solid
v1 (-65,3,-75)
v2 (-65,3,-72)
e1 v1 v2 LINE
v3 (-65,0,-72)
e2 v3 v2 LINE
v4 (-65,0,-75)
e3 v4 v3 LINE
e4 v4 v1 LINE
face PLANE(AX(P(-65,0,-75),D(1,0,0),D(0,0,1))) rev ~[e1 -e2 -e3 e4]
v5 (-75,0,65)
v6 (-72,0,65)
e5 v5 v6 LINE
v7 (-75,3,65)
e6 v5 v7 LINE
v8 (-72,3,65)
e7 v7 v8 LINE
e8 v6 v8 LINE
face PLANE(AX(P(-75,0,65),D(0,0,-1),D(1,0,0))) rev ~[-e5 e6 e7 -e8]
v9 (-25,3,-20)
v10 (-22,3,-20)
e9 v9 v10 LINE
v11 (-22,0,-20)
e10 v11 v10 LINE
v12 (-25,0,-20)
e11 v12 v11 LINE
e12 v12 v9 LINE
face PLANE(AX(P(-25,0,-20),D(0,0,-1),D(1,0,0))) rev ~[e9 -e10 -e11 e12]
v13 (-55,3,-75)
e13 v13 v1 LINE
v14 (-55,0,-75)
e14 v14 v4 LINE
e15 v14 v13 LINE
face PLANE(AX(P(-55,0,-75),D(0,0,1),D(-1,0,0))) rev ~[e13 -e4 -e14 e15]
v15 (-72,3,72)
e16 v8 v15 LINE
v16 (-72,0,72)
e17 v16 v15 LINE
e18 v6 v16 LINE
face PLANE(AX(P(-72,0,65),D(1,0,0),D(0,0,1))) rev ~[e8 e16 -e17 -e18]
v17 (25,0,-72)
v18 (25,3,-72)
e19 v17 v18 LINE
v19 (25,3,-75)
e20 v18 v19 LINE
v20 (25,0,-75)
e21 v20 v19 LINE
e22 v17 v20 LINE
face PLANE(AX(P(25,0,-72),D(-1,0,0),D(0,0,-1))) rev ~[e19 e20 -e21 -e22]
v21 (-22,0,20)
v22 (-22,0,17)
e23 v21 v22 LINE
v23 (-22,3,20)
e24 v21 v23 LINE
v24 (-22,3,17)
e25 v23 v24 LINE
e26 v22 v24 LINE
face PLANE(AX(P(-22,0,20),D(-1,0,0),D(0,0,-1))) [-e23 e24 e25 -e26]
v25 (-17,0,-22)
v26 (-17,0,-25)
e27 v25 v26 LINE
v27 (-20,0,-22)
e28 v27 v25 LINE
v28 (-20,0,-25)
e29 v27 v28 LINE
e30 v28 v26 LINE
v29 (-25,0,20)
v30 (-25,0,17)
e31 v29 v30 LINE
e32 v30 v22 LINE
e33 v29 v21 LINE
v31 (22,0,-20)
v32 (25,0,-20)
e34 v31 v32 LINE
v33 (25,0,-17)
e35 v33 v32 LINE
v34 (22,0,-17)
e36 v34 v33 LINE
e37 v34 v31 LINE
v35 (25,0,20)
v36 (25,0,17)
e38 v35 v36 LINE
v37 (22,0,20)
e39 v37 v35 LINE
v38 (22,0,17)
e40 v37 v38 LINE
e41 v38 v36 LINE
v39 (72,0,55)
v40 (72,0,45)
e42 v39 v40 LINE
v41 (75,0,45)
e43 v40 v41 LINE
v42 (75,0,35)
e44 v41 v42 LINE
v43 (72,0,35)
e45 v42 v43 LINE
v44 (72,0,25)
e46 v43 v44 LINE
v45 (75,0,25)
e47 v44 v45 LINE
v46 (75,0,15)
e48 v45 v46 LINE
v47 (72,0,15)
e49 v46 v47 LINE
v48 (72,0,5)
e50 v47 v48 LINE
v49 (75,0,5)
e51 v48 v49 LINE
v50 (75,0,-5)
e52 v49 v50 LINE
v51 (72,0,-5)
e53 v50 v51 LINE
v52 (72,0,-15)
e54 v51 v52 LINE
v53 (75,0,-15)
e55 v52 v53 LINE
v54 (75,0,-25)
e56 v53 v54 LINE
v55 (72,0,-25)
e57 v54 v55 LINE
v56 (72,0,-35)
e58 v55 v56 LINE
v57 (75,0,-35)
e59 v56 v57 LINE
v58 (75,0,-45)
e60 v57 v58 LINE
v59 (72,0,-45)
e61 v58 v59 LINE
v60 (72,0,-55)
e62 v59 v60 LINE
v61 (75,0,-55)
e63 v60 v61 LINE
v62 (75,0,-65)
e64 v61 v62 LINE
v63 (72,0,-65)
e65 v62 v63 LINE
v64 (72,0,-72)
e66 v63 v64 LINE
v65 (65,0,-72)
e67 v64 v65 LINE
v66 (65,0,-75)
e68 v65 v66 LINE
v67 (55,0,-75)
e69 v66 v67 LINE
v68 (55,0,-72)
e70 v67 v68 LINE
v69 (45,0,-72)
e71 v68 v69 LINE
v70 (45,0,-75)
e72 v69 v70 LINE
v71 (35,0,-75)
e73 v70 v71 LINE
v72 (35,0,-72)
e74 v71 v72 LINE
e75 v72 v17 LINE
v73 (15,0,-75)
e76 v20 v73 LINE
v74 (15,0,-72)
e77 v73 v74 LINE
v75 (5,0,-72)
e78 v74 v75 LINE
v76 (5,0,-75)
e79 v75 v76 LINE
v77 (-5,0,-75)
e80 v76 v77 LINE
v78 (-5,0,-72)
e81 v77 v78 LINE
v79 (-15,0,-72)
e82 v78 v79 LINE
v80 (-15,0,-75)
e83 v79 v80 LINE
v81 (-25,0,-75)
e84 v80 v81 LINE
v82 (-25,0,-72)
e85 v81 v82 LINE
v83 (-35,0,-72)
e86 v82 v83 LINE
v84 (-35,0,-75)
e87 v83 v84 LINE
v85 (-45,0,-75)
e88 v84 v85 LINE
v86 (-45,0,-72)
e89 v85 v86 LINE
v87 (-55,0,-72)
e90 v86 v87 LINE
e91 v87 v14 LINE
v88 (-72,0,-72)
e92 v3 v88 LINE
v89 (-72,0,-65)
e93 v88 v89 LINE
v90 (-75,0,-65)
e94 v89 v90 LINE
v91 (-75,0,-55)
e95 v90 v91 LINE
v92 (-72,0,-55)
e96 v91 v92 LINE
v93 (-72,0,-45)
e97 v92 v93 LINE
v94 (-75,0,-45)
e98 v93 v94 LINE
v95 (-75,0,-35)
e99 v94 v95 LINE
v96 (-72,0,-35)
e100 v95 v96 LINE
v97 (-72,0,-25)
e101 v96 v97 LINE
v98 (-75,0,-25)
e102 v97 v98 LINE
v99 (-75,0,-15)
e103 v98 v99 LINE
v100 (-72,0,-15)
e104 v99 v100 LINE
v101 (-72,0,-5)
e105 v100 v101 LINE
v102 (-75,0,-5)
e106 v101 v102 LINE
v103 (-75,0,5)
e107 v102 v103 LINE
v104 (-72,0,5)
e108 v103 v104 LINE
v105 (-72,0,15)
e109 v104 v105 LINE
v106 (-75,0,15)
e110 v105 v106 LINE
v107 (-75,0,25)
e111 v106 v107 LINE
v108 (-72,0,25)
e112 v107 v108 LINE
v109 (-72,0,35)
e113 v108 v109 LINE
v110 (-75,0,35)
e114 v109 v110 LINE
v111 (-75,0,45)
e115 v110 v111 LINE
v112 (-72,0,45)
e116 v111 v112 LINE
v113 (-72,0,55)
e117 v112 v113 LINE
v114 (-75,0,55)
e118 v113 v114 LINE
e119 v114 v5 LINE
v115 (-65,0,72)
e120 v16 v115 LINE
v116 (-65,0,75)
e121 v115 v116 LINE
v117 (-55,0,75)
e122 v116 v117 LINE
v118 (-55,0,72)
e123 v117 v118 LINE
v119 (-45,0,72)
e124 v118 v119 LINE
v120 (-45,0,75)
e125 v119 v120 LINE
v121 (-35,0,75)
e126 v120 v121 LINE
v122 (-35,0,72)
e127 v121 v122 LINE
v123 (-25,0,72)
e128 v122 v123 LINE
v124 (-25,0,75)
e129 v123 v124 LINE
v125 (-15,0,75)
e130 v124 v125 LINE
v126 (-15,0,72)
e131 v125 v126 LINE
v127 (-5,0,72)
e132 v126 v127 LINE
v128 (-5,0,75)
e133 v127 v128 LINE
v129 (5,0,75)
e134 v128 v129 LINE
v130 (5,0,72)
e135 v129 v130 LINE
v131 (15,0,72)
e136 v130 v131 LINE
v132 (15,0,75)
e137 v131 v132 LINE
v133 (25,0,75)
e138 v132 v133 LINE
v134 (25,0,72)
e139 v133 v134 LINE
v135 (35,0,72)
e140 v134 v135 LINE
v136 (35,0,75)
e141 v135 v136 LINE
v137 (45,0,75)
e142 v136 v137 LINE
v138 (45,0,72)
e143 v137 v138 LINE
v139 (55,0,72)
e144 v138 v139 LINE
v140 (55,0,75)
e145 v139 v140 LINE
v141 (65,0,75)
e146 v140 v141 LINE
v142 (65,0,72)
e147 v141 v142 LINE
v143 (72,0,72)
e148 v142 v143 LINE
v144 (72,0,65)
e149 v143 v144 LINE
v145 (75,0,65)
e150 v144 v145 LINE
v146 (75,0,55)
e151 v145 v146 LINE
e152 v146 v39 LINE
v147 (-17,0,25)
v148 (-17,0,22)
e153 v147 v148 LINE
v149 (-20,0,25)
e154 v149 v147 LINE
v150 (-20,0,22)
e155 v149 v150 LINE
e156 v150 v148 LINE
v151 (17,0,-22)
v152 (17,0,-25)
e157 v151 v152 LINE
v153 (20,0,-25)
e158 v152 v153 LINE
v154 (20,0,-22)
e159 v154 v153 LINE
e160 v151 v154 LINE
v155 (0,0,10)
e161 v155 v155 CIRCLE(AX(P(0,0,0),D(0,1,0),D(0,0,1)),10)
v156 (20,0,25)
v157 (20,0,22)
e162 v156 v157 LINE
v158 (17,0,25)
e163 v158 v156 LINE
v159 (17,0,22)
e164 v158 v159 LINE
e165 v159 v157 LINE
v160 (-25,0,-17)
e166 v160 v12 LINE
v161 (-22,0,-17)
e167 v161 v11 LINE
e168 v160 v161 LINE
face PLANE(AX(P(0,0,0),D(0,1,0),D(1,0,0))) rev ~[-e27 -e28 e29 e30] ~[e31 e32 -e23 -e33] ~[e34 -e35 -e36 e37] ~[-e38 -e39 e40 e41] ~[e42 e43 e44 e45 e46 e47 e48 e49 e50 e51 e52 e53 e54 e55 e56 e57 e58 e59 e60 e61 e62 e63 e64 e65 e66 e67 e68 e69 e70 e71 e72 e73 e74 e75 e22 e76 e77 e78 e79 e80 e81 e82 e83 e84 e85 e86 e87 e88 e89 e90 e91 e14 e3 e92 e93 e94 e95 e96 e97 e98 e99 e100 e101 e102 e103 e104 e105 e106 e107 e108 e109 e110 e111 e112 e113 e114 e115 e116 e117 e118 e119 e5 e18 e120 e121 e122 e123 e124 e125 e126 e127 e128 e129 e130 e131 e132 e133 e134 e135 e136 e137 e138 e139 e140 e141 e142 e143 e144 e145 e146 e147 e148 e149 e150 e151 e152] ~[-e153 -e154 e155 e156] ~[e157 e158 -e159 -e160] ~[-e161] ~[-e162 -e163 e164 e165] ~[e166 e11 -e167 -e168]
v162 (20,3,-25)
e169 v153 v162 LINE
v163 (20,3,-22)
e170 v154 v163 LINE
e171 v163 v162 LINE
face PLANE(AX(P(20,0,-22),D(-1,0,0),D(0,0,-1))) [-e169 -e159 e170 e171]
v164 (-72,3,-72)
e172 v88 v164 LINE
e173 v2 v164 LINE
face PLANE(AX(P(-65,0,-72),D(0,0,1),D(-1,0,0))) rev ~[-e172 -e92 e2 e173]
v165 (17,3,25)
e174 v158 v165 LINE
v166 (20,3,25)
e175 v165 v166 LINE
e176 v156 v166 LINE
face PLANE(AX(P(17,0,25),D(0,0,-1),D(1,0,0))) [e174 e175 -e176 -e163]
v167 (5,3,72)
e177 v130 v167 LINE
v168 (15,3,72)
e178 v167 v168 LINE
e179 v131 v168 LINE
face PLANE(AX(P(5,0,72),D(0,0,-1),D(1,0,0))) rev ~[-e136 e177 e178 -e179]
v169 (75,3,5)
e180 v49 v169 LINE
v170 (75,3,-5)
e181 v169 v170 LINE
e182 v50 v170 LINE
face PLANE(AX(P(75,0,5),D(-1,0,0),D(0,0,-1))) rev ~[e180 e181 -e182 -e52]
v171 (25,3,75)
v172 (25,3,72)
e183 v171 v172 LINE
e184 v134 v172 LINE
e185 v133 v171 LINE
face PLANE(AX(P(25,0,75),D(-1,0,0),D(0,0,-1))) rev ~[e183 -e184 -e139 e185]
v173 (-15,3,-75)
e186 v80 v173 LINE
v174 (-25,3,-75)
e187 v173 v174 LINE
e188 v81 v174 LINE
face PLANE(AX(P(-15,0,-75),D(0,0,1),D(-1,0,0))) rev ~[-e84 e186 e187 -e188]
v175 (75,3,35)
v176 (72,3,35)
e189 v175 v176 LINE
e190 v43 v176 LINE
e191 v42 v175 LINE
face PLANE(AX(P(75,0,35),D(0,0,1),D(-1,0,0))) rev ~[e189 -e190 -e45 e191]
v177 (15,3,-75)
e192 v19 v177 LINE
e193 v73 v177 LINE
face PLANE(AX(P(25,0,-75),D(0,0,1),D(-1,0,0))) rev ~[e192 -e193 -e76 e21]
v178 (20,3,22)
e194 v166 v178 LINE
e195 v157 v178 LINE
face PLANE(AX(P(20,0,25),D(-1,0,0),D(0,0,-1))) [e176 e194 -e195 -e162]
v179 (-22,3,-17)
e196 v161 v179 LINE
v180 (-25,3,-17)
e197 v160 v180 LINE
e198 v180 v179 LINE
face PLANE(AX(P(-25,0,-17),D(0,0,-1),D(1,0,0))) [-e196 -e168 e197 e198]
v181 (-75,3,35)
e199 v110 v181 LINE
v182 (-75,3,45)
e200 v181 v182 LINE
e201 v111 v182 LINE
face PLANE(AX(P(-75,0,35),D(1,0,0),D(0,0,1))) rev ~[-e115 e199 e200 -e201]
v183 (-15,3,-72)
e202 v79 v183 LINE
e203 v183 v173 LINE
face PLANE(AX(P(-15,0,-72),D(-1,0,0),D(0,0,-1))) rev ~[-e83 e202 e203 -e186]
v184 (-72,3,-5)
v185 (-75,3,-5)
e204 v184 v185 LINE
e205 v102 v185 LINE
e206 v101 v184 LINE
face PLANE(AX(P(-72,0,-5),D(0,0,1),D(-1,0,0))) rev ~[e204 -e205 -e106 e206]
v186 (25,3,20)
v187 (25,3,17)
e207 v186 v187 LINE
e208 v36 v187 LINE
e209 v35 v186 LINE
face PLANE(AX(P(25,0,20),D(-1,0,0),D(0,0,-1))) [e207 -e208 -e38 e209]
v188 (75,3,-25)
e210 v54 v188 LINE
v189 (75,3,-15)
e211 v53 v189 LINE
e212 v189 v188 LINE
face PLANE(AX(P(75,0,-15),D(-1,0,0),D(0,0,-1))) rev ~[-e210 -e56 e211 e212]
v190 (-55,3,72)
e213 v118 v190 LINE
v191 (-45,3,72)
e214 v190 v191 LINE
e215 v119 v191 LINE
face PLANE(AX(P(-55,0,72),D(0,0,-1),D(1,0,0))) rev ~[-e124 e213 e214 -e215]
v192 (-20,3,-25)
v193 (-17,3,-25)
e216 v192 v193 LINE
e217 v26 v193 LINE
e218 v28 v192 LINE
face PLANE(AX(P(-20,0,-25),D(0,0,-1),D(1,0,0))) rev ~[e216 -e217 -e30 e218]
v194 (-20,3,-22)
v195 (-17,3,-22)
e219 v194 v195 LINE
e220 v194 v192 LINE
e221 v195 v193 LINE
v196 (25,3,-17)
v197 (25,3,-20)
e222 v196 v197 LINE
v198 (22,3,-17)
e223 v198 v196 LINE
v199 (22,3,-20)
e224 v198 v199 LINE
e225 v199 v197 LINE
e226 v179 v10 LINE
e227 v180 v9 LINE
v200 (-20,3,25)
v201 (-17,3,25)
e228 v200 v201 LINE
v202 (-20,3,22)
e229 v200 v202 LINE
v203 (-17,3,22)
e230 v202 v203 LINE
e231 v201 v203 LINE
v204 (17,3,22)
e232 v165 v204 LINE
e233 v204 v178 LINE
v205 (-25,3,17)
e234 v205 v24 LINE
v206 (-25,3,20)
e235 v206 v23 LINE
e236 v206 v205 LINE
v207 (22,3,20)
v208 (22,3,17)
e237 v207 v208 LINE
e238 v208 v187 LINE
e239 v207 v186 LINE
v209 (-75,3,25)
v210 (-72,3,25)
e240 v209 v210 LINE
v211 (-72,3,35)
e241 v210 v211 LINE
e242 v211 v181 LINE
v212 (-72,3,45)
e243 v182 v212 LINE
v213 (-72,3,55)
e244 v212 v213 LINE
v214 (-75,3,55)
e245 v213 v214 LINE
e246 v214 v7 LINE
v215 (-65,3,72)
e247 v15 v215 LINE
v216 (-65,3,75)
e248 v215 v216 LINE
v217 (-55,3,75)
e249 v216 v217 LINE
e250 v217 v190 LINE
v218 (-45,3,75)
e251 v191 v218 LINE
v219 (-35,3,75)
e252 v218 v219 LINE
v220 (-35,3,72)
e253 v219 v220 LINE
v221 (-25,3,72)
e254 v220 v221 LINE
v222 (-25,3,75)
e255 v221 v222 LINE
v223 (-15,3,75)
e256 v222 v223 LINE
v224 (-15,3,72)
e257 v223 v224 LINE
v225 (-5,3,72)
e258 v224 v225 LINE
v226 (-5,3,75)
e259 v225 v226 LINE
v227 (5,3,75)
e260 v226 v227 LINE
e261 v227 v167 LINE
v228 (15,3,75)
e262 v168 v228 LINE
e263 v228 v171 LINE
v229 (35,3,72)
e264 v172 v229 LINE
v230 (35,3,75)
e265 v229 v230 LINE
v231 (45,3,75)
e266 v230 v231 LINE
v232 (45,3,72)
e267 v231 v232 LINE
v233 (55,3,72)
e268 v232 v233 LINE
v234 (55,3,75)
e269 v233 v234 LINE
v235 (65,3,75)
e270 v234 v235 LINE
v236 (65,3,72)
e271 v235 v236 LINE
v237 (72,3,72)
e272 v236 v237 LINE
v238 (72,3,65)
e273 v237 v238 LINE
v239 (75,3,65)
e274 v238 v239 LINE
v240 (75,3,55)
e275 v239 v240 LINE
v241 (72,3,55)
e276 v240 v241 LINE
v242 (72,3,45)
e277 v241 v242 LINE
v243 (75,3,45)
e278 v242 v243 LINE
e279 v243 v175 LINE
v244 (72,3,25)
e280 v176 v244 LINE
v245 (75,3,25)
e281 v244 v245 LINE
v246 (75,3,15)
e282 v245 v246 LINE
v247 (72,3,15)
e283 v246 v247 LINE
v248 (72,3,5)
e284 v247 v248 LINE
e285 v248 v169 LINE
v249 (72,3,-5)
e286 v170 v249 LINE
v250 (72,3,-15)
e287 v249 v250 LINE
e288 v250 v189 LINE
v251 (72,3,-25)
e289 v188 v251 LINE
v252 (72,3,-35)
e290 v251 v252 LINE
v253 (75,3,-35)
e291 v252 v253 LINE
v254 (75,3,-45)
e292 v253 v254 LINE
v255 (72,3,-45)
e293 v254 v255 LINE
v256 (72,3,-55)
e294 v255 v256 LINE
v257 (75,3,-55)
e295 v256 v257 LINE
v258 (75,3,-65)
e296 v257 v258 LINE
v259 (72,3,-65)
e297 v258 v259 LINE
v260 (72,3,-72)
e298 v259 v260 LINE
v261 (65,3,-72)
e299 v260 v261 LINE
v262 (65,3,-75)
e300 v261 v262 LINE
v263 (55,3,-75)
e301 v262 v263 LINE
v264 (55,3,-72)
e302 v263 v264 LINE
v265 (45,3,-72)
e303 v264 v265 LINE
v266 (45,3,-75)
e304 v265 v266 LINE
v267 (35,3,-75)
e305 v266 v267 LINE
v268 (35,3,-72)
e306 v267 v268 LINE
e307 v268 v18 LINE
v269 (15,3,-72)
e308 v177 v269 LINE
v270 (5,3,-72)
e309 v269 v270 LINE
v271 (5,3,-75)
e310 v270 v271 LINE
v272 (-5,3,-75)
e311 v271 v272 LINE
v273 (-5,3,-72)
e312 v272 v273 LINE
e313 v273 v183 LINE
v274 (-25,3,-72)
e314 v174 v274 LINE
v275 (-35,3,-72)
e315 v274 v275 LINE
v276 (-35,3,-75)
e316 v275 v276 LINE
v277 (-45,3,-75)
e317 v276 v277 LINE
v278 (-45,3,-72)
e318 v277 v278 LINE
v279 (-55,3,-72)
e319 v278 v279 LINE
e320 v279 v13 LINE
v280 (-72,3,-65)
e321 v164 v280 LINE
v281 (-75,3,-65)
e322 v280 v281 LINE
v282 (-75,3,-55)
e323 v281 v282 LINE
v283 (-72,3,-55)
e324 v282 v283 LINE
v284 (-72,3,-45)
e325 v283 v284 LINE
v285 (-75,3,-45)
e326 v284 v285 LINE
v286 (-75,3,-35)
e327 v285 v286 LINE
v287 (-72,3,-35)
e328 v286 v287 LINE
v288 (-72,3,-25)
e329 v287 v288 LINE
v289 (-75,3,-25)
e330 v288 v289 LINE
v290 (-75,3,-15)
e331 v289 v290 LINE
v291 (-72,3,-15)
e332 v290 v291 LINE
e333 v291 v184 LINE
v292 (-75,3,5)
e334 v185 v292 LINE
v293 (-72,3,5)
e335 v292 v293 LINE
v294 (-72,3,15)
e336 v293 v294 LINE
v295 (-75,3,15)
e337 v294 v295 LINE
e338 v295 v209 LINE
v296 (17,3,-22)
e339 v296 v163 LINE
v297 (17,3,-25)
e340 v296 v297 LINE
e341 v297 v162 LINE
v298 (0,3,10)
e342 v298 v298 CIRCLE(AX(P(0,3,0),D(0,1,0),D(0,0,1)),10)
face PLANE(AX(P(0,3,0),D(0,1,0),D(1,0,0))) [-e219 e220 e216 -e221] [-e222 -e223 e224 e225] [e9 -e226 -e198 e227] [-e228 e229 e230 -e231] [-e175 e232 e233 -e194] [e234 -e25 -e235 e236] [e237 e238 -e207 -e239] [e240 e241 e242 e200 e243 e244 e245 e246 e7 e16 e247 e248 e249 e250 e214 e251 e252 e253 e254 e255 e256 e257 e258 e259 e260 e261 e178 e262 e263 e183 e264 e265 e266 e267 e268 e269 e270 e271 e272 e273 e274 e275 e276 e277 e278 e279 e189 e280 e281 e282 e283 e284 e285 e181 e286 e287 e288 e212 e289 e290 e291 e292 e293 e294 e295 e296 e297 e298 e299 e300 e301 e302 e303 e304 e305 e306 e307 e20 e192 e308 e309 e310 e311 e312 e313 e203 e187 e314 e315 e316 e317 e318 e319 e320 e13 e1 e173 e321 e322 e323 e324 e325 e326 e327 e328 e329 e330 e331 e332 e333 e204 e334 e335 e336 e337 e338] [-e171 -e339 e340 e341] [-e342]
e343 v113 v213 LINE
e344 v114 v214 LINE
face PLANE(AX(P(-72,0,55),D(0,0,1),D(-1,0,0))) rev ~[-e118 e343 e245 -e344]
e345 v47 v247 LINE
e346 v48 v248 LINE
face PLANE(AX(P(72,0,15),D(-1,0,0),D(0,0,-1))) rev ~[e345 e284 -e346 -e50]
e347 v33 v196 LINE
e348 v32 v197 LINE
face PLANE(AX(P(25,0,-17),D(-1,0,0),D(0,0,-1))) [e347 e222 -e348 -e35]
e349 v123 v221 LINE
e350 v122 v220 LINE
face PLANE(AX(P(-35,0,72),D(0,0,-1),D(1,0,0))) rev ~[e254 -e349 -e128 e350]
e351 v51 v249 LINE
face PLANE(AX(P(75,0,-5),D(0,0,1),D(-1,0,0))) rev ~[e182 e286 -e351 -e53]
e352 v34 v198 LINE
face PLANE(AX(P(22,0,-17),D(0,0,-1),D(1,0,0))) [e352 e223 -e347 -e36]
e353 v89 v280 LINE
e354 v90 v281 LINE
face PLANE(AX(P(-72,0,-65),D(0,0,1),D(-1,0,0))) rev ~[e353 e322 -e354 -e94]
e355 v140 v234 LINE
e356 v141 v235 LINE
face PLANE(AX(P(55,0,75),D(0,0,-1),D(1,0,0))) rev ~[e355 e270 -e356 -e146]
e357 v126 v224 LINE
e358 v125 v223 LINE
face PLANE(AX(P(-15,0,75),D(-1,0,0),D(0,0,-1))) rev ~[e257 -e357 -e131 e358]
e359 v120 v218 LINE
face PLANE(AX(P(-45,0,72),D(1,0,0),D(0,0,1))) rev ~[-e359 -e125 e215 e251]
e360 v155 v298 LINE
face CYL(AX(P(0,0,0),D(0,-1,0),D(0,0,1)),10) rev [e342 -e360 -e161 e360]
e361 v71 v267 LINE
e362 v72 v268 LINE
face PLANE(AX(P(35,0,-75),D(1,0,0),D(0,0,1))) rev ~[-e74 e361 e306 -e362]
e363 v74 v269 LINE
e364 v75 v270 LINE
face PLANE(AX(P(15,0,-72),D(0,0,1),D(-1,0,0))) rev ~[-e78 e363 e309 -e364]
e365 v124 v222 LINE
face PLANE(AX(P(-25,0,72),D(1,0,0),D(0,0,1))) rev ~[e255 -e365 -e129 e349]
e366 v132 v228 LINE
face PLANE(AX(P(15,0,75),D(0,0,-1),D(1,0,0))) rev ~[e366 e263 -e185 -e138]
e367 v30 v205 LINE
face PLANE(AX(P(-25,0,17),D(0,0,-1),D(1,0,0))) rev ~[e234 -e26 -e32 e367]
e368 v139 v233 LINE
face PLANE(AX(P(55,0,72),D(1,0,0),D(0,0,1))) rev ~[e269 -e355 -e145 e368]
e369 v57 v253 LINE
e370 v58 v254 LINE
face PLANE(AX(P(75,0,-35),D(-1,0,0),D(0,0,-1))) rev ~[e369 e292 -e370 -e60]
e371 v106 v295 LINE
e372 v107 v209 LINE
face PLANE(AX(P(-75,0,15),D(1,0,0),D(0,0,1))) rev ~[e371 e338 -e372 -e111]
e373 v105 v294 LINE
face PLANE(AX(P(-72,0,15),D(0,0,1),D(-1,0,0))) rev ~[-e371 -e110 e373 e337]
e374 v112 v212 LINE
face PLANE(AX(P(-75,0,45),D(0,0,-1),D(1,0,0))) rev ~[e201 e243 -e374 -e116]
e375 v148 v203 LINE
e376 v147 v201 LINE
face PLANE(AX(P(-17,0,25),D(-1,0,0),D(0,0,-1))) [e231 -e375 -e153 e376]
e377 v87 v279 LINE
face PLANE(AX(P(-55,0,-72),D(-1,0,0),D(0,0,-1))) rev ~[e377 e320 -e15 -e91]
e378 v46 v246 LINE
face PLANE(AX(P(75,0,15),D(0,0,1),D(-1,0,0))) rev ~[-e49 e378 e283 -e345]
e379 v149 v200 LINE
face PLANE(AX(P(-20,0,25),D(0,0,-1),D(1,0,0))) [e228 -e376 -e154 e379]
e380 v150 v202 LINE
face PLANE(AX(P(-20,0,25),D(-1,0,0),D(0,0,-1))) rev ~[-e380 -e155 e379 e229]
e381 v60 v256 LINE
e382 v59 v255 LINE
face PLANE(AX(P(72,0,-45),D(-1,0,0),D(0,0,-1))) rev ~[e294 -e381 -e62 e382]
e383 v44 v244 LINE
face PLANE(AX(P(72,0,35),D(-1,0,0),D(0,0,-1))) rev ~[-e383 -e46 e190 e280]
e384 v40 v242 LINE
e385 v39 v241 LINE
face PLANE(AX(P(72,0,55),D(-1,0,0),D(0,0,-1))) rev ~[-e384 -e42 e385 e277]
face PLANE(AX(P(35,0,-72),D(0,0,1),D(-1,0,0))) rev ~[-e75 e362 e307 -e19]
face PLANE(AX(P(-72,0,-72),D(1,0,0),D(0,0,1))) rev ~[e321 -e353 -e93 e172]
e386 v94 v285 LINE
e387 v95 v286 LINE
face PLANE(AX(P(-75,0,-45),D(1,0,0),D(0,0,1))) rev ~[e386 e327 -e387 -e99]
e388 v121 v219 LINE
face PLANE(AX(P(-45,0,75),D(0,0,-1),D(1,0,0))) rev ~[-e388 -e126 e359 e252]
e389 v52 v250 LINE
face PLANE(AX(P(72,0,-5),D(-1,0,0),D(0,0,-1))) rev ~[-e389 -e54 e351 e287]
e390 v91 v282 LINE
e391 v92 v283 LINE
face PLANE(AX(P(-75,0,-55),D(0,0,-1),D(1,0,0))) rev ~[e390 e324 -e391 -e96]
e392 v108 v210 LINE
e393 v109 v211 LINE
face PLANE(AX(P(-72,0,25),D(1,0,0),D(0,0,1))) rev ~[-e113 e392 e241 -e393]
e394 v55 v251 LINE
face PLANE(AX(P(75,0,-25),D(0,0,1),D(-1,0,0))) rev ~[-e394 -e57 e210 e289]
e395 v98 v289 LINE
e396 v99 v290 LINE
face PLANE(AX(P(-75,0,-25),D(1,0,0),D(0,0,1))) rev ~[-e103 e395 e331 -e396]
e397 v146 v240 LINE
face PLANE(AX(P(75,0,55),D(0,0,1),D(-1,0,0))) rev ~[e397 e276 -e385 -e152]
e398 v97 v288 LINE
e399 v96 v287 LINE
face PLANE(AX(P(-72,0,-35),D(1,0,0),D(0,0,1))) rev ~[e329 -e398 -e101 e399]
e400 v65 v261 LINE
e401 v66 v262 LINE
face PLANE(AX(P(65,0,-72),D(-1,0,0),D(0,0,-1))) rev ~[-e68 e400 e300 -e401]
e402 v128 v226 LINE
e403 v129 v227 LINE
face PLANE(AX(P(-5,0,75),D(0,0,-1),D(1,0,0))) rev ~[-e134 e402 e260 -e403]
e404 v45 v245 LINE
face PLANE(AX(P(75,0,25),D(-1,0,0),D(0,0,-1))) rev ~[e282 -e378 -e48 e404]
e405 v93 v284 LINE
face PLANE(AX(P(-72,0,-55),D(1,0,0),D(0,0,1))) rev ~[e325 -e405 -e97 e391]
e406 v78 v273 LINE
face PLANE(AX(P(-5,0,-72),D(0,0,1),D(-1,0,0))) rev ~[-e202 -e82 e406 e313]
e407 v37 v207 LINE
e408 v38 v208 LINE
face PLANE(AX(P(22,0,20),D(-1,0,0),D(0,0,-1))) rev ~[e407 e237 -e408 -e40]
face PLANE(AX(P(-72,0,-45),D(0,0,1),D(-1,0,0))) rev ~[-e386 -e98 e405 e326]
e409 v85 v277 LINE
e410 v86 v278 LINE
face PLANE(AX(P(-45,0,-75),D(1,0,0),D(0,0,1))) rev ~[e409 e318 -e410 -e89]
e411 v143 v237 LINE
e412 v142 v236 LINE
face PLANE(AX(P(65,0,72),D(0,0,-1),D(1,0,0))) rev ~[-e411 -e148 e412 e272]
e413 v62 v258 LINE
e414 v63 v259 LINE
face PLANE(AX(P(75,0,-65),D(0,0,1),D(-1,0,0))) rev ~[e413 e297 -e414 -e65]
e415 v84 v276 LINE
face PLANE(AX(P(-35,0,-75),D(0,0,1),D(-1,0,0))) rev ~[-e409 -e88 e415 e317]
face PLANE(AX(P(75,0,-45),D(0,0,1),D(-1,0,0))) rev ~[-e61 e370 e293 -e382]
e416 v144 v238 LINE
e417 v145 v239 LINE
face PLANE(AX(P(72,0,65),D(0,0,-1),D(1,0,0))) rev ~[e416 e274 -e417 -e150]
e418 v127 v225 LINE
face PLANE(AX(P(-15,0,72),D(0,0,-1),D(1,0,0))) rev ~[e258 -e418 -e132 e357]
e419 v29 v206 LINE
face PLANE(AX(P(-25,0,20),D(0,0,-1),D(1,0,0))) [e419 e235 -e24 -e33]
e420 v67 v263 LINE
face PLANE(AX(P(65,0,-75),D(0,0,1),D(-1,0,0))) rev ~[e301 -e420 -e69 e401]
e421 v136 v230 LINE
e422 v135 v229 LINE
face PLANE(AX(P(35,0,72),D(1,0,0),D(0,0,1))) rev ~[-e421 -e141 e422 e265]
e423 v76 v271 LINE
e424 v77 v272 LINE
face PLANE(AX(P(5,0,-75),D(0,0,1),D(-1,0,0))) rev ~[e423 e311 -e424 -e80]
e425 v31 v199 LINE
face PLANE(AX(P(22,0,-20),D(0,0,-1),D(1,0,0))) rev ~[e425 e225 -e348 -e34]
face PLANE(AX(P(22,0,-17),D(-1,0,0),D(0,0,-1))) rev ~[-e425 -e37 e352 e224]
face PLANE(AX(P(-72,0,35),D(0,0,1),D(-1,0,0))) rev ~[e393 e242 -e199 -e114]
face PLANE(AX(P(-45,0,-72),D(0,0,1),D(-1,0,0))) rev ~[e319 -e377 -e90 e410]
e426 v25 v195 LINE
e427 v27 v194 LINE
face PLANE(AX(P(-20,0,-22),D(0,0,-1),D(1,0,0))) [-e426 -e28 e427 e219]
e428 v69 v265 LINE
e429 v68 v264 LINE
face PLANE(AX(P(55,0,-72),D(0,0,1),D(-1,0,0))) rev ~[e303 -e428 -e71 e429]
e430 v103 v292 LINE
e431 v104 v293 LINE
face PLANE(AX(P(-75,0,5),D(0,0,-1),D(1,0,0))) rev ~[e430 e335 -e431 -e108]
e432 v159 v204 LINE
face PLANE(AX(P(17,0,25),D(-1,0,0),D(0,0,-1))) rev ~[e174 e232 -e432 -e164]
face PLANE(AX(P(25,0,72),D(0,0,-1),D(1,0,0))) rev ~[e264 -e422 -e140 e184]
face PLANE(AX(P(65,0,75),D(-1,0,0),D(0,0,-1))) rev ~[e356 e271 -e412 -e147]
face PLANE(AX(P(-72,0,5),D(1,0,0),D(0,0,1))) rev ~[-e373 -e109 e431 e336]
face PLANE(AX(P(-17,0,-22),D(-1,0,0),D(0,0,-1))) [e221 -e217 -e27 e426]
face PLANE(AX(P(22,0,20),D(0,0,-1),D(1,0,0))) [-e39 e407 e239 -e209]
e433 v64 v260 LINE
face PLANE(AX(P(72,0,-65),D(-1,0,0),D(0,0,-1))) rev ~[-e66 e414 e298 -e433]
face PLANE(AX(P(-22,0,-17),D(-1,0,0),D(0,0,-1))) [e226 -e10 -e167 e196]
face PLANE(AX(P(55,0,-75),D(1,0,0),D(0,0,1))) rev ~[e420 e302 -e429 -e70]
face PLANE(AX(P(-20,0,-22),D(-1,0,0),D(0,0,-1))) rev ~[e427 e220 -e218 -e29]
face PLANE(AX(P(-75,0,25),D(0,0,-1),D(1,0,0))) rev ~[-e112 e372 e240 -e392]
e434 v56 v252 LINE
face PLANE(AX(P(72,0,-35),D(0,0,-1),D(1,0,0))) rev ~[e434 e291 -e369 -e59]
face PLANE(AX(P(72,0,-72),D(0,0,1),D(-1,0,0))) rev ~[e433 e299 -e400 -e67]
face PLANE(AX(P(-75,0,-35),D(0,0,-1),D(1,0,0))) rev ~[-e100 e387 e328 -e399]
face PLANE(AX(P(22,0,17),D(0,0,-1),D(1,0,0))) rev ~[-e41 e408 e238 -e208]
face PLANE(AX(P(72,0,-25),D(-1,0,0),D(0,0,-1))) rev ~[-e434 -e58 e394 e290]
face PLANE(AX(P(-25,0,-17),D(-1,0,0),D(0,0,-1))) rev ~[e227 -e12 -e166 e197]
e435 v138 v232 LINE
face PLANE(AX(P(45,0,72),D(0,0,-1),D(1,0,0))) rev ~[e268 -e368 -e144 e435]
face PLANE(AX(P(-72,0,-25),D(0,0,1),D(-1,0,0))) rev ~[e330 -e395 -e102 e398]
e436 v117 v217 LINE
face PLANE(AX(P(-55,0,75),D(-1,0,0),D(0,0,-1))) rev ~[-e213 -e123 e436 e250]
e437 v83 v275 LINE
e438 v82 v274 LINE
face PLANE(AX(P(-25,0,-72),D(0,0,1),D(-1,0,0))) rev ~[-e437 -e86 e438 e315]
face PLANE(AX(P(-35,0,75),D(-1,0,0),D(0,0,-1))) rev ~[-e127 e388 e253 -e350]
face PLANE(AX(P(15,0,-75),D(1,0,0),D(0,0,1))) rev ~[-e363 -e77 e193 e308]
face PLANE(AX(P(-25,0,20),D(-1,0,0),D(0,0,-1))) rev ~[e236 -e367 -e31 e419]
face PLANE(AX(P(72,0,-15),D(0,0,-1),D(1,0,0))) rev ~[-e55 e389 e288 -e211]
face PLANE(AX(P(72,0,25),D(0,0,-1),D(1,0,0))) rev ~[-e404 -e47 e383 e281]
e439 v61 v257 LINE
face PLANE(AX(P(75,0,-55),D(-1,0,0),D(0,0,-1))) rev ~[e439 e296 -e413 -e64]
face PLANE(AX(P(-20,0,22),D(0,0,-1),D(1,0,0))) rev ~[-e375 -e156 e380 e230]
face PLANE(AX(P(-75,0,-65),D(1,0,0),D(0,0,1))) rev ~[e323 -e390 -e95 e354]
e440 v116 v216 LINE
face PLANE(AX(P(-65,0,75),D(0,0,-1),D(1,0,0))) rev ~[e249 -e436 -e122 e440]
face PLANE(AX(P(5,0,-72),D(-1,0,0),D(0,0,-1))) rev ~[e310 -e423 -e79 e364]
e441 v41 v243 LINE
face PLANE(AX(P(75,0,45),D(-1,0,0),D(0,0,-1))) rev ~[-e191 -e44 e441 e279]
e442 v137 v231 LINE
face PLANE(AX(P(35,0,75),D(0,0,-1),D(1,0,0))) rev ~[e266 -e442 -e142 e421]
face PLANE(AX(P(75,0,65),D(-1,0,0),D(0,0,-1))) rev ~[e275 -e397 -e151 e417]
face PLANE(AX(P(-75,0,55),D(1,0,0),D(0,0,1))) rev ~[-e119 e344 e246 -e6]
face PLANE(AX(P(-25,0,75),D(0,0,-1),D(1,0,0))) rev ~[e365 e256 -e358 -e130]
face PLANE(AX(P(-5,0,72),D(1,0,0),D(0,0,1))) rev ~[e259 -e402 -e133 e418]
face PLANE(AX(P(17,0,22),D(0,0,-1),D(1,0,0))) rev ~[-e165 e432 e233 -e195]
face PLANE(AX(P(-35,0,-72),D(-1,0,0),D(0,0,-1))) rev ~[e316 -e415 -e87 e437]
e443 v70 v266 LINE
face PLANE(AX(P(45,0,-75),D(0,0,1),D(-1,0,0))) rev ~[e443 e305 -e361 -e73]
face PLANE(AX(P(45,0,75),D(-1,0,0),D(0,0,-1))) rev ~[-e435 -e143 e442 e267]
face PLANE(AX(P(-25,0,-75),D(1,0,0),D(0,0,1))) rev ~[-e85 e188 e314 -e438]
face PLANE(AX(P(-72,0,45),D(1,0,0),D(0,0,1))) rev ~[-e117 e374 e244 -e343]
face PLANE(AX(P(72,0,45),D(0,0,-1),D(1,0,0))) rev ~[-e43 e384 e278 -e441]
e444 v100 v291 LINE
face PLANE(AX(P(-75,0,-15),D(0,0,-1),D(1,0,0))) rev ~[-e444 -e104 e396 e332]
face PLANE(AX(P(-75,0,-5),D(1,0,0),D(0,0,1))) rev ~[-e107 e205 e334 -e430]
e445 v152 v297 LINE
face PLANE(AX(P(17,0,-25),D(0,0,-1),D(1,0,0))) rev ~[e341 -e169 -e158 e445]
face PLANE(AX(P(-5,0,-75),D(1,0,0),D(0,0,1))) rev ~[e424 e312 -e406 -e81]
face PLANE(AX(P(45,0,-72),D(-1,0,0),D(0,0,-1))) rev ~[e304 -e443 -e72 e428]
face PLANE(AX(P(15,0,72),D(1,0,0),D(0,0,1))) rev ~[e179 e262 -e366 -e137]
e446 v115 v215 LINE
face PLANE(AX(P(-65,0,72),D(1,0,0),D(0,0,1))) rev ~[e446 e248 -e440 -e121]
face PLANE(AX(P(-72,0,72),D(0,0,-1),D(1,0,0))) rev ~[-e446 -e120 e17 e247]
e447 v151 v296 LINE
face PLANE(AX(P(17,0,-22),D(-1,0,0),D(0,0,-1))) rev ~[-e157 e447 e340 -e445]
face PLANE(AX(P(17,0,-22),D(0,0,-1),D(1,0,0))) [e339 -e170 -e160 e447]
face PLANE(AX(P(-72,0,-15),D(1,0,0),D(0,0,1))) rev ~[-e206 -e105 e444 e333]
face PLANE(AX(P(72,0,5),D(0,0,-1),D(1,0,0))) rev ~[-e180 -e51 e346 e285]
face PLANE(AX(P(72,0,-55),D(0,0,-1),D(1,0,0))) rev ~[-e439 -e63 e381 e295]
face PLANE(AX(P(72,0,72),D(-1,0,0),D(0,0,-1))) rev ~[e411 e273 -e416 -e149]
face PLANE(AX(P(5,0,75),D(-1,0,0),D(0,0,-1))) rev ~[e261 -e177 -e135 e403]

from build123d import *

# Parameters (mm, degrees)
CROQUIS1_R              = 10
CROQUIS1_W              = 3
CROQUIS1_H              = 3
SALIENTE_EXTRUIR2_DEPTH = 3


with BuildPart() as part:
    # Croquis1 → Saliente-Extruir2 (new body)
    with BuildSketch(Plane(origin=(0, 0, 0), x_dir=(1, 0, 0), z_dir=(0, 1, 0))):
        Polygon((-72, -72), (-65, -72), (-65, -75), (-55, -75), (-55, -72), (-45, -72), (-45, -75), (-35, -75), (-35, -72), (-25, -72), (-25, -75), (-15, -75), (-15, -72), (-5, -72), (-5, -75), (5, -75), (5, -72), (15, -72), (15, -75), (25, -75), (25, -72), (35, -72), (35, -75), (45, -75), (45, -72), (55, -72), (55, -75), (65, -75), (65, -72), (72, -72), (72, -65), (75, -65), (75, -55), (72, -55), (72, -45), (75, -45), (75, -35), (72, -35), (72, -25), (75, -25), (75, -15), (72, -15), (72, -5), (75, -5), (75, 5), (72, 5), (72, 15), (75, 15), (75, 25), (72, 25), (72, 35), (75, 35), (75, 45), (72, 45), (72, 55), (75, 55), (75, 65), (72, 65), (72, 72), (65, 72), (65, 75), (55, 75), (55, 72), (45, 72), (45, 75), (35, 75), (35, 72), (25, 72), (25, 75), (15, 75), (15, 72), (5, 72), (5, 75), (-5, 75), (-5, 72), (-15, 72), (-15, 75), (-25, 75), (-25, 72), (-35, 72), (-35, 75), (-45, 75), (-45, 72), (-55, 72), (-55, 75), (-65, 75), (-65, 72), (-72, 72), (-72, 65), (-75, 65), (-75, 55), (-72, 55), (-72, 45), (-75, 45), (-75, 35), (-72, 35), (-72, 25), (-75, 25), (-75, 15), (-72, 15), (-72, 5), (-75, 5), (-75, -5), (-72, -5), (-72, -15), (-75, -15), (-75, -25), (-72, -25), (-72, -35), (-75, -35), (-75, -45), (-72, -45), (-72, -55), (-75, -55), (-75, -65), (-72, -65), align=None)
        with Locations(Location((0, 0, 0), (0, 0, 270))):
            Circle(CROQUIS1_R, mode=Mode.SUBTRACT)
        with Locations((18.5, 23.5)):
            Rectangle(CROQUIS1_W, CROQUIS1_H, mode=Mode.SUBTRACT)
        with Locations((-18.5, 23.5)):
            Rectangle(CROQUIS1_W, CROQUIS1_H, mode=Mode.SUBTRACT)
        with Locations((-23.5, 18.5)):
            Rectangle(CROQUIS1_W, CROQUIS1_H, mode=Mode.SUBTRACT)
        with Locations((-23.5, -18.5)):
            Rectangle(CROQUIS1_W, CROQUIS1_H, mode=Mode.SUBTRACT)
        with Locations((23.5, -18.5)):
            Rectangle(CROQUIS1_W, CROQUIS1_H, mode=Mode.SUBTRACT)
        with Locations((23.5, 18.5)):
            Rectangle(CROQUIS1_W, CROQUIS1_H, mode=Mode.SUBTRACT)
        with Locations((18.5, -23.5)):
            Rectangle(CROQUIS1_W, CROQUIS1_H, mode=Mode.SUBTRACT)
        with Locations((-18.5, -23.5)):
            Rectangle(CROQUIS1_W, CROQUIS1_H, mode=Mode.SUBTRACT)
    extrude(amount=SALIENTE_EXTRUIR2_DEPTH)


solid = part.part
